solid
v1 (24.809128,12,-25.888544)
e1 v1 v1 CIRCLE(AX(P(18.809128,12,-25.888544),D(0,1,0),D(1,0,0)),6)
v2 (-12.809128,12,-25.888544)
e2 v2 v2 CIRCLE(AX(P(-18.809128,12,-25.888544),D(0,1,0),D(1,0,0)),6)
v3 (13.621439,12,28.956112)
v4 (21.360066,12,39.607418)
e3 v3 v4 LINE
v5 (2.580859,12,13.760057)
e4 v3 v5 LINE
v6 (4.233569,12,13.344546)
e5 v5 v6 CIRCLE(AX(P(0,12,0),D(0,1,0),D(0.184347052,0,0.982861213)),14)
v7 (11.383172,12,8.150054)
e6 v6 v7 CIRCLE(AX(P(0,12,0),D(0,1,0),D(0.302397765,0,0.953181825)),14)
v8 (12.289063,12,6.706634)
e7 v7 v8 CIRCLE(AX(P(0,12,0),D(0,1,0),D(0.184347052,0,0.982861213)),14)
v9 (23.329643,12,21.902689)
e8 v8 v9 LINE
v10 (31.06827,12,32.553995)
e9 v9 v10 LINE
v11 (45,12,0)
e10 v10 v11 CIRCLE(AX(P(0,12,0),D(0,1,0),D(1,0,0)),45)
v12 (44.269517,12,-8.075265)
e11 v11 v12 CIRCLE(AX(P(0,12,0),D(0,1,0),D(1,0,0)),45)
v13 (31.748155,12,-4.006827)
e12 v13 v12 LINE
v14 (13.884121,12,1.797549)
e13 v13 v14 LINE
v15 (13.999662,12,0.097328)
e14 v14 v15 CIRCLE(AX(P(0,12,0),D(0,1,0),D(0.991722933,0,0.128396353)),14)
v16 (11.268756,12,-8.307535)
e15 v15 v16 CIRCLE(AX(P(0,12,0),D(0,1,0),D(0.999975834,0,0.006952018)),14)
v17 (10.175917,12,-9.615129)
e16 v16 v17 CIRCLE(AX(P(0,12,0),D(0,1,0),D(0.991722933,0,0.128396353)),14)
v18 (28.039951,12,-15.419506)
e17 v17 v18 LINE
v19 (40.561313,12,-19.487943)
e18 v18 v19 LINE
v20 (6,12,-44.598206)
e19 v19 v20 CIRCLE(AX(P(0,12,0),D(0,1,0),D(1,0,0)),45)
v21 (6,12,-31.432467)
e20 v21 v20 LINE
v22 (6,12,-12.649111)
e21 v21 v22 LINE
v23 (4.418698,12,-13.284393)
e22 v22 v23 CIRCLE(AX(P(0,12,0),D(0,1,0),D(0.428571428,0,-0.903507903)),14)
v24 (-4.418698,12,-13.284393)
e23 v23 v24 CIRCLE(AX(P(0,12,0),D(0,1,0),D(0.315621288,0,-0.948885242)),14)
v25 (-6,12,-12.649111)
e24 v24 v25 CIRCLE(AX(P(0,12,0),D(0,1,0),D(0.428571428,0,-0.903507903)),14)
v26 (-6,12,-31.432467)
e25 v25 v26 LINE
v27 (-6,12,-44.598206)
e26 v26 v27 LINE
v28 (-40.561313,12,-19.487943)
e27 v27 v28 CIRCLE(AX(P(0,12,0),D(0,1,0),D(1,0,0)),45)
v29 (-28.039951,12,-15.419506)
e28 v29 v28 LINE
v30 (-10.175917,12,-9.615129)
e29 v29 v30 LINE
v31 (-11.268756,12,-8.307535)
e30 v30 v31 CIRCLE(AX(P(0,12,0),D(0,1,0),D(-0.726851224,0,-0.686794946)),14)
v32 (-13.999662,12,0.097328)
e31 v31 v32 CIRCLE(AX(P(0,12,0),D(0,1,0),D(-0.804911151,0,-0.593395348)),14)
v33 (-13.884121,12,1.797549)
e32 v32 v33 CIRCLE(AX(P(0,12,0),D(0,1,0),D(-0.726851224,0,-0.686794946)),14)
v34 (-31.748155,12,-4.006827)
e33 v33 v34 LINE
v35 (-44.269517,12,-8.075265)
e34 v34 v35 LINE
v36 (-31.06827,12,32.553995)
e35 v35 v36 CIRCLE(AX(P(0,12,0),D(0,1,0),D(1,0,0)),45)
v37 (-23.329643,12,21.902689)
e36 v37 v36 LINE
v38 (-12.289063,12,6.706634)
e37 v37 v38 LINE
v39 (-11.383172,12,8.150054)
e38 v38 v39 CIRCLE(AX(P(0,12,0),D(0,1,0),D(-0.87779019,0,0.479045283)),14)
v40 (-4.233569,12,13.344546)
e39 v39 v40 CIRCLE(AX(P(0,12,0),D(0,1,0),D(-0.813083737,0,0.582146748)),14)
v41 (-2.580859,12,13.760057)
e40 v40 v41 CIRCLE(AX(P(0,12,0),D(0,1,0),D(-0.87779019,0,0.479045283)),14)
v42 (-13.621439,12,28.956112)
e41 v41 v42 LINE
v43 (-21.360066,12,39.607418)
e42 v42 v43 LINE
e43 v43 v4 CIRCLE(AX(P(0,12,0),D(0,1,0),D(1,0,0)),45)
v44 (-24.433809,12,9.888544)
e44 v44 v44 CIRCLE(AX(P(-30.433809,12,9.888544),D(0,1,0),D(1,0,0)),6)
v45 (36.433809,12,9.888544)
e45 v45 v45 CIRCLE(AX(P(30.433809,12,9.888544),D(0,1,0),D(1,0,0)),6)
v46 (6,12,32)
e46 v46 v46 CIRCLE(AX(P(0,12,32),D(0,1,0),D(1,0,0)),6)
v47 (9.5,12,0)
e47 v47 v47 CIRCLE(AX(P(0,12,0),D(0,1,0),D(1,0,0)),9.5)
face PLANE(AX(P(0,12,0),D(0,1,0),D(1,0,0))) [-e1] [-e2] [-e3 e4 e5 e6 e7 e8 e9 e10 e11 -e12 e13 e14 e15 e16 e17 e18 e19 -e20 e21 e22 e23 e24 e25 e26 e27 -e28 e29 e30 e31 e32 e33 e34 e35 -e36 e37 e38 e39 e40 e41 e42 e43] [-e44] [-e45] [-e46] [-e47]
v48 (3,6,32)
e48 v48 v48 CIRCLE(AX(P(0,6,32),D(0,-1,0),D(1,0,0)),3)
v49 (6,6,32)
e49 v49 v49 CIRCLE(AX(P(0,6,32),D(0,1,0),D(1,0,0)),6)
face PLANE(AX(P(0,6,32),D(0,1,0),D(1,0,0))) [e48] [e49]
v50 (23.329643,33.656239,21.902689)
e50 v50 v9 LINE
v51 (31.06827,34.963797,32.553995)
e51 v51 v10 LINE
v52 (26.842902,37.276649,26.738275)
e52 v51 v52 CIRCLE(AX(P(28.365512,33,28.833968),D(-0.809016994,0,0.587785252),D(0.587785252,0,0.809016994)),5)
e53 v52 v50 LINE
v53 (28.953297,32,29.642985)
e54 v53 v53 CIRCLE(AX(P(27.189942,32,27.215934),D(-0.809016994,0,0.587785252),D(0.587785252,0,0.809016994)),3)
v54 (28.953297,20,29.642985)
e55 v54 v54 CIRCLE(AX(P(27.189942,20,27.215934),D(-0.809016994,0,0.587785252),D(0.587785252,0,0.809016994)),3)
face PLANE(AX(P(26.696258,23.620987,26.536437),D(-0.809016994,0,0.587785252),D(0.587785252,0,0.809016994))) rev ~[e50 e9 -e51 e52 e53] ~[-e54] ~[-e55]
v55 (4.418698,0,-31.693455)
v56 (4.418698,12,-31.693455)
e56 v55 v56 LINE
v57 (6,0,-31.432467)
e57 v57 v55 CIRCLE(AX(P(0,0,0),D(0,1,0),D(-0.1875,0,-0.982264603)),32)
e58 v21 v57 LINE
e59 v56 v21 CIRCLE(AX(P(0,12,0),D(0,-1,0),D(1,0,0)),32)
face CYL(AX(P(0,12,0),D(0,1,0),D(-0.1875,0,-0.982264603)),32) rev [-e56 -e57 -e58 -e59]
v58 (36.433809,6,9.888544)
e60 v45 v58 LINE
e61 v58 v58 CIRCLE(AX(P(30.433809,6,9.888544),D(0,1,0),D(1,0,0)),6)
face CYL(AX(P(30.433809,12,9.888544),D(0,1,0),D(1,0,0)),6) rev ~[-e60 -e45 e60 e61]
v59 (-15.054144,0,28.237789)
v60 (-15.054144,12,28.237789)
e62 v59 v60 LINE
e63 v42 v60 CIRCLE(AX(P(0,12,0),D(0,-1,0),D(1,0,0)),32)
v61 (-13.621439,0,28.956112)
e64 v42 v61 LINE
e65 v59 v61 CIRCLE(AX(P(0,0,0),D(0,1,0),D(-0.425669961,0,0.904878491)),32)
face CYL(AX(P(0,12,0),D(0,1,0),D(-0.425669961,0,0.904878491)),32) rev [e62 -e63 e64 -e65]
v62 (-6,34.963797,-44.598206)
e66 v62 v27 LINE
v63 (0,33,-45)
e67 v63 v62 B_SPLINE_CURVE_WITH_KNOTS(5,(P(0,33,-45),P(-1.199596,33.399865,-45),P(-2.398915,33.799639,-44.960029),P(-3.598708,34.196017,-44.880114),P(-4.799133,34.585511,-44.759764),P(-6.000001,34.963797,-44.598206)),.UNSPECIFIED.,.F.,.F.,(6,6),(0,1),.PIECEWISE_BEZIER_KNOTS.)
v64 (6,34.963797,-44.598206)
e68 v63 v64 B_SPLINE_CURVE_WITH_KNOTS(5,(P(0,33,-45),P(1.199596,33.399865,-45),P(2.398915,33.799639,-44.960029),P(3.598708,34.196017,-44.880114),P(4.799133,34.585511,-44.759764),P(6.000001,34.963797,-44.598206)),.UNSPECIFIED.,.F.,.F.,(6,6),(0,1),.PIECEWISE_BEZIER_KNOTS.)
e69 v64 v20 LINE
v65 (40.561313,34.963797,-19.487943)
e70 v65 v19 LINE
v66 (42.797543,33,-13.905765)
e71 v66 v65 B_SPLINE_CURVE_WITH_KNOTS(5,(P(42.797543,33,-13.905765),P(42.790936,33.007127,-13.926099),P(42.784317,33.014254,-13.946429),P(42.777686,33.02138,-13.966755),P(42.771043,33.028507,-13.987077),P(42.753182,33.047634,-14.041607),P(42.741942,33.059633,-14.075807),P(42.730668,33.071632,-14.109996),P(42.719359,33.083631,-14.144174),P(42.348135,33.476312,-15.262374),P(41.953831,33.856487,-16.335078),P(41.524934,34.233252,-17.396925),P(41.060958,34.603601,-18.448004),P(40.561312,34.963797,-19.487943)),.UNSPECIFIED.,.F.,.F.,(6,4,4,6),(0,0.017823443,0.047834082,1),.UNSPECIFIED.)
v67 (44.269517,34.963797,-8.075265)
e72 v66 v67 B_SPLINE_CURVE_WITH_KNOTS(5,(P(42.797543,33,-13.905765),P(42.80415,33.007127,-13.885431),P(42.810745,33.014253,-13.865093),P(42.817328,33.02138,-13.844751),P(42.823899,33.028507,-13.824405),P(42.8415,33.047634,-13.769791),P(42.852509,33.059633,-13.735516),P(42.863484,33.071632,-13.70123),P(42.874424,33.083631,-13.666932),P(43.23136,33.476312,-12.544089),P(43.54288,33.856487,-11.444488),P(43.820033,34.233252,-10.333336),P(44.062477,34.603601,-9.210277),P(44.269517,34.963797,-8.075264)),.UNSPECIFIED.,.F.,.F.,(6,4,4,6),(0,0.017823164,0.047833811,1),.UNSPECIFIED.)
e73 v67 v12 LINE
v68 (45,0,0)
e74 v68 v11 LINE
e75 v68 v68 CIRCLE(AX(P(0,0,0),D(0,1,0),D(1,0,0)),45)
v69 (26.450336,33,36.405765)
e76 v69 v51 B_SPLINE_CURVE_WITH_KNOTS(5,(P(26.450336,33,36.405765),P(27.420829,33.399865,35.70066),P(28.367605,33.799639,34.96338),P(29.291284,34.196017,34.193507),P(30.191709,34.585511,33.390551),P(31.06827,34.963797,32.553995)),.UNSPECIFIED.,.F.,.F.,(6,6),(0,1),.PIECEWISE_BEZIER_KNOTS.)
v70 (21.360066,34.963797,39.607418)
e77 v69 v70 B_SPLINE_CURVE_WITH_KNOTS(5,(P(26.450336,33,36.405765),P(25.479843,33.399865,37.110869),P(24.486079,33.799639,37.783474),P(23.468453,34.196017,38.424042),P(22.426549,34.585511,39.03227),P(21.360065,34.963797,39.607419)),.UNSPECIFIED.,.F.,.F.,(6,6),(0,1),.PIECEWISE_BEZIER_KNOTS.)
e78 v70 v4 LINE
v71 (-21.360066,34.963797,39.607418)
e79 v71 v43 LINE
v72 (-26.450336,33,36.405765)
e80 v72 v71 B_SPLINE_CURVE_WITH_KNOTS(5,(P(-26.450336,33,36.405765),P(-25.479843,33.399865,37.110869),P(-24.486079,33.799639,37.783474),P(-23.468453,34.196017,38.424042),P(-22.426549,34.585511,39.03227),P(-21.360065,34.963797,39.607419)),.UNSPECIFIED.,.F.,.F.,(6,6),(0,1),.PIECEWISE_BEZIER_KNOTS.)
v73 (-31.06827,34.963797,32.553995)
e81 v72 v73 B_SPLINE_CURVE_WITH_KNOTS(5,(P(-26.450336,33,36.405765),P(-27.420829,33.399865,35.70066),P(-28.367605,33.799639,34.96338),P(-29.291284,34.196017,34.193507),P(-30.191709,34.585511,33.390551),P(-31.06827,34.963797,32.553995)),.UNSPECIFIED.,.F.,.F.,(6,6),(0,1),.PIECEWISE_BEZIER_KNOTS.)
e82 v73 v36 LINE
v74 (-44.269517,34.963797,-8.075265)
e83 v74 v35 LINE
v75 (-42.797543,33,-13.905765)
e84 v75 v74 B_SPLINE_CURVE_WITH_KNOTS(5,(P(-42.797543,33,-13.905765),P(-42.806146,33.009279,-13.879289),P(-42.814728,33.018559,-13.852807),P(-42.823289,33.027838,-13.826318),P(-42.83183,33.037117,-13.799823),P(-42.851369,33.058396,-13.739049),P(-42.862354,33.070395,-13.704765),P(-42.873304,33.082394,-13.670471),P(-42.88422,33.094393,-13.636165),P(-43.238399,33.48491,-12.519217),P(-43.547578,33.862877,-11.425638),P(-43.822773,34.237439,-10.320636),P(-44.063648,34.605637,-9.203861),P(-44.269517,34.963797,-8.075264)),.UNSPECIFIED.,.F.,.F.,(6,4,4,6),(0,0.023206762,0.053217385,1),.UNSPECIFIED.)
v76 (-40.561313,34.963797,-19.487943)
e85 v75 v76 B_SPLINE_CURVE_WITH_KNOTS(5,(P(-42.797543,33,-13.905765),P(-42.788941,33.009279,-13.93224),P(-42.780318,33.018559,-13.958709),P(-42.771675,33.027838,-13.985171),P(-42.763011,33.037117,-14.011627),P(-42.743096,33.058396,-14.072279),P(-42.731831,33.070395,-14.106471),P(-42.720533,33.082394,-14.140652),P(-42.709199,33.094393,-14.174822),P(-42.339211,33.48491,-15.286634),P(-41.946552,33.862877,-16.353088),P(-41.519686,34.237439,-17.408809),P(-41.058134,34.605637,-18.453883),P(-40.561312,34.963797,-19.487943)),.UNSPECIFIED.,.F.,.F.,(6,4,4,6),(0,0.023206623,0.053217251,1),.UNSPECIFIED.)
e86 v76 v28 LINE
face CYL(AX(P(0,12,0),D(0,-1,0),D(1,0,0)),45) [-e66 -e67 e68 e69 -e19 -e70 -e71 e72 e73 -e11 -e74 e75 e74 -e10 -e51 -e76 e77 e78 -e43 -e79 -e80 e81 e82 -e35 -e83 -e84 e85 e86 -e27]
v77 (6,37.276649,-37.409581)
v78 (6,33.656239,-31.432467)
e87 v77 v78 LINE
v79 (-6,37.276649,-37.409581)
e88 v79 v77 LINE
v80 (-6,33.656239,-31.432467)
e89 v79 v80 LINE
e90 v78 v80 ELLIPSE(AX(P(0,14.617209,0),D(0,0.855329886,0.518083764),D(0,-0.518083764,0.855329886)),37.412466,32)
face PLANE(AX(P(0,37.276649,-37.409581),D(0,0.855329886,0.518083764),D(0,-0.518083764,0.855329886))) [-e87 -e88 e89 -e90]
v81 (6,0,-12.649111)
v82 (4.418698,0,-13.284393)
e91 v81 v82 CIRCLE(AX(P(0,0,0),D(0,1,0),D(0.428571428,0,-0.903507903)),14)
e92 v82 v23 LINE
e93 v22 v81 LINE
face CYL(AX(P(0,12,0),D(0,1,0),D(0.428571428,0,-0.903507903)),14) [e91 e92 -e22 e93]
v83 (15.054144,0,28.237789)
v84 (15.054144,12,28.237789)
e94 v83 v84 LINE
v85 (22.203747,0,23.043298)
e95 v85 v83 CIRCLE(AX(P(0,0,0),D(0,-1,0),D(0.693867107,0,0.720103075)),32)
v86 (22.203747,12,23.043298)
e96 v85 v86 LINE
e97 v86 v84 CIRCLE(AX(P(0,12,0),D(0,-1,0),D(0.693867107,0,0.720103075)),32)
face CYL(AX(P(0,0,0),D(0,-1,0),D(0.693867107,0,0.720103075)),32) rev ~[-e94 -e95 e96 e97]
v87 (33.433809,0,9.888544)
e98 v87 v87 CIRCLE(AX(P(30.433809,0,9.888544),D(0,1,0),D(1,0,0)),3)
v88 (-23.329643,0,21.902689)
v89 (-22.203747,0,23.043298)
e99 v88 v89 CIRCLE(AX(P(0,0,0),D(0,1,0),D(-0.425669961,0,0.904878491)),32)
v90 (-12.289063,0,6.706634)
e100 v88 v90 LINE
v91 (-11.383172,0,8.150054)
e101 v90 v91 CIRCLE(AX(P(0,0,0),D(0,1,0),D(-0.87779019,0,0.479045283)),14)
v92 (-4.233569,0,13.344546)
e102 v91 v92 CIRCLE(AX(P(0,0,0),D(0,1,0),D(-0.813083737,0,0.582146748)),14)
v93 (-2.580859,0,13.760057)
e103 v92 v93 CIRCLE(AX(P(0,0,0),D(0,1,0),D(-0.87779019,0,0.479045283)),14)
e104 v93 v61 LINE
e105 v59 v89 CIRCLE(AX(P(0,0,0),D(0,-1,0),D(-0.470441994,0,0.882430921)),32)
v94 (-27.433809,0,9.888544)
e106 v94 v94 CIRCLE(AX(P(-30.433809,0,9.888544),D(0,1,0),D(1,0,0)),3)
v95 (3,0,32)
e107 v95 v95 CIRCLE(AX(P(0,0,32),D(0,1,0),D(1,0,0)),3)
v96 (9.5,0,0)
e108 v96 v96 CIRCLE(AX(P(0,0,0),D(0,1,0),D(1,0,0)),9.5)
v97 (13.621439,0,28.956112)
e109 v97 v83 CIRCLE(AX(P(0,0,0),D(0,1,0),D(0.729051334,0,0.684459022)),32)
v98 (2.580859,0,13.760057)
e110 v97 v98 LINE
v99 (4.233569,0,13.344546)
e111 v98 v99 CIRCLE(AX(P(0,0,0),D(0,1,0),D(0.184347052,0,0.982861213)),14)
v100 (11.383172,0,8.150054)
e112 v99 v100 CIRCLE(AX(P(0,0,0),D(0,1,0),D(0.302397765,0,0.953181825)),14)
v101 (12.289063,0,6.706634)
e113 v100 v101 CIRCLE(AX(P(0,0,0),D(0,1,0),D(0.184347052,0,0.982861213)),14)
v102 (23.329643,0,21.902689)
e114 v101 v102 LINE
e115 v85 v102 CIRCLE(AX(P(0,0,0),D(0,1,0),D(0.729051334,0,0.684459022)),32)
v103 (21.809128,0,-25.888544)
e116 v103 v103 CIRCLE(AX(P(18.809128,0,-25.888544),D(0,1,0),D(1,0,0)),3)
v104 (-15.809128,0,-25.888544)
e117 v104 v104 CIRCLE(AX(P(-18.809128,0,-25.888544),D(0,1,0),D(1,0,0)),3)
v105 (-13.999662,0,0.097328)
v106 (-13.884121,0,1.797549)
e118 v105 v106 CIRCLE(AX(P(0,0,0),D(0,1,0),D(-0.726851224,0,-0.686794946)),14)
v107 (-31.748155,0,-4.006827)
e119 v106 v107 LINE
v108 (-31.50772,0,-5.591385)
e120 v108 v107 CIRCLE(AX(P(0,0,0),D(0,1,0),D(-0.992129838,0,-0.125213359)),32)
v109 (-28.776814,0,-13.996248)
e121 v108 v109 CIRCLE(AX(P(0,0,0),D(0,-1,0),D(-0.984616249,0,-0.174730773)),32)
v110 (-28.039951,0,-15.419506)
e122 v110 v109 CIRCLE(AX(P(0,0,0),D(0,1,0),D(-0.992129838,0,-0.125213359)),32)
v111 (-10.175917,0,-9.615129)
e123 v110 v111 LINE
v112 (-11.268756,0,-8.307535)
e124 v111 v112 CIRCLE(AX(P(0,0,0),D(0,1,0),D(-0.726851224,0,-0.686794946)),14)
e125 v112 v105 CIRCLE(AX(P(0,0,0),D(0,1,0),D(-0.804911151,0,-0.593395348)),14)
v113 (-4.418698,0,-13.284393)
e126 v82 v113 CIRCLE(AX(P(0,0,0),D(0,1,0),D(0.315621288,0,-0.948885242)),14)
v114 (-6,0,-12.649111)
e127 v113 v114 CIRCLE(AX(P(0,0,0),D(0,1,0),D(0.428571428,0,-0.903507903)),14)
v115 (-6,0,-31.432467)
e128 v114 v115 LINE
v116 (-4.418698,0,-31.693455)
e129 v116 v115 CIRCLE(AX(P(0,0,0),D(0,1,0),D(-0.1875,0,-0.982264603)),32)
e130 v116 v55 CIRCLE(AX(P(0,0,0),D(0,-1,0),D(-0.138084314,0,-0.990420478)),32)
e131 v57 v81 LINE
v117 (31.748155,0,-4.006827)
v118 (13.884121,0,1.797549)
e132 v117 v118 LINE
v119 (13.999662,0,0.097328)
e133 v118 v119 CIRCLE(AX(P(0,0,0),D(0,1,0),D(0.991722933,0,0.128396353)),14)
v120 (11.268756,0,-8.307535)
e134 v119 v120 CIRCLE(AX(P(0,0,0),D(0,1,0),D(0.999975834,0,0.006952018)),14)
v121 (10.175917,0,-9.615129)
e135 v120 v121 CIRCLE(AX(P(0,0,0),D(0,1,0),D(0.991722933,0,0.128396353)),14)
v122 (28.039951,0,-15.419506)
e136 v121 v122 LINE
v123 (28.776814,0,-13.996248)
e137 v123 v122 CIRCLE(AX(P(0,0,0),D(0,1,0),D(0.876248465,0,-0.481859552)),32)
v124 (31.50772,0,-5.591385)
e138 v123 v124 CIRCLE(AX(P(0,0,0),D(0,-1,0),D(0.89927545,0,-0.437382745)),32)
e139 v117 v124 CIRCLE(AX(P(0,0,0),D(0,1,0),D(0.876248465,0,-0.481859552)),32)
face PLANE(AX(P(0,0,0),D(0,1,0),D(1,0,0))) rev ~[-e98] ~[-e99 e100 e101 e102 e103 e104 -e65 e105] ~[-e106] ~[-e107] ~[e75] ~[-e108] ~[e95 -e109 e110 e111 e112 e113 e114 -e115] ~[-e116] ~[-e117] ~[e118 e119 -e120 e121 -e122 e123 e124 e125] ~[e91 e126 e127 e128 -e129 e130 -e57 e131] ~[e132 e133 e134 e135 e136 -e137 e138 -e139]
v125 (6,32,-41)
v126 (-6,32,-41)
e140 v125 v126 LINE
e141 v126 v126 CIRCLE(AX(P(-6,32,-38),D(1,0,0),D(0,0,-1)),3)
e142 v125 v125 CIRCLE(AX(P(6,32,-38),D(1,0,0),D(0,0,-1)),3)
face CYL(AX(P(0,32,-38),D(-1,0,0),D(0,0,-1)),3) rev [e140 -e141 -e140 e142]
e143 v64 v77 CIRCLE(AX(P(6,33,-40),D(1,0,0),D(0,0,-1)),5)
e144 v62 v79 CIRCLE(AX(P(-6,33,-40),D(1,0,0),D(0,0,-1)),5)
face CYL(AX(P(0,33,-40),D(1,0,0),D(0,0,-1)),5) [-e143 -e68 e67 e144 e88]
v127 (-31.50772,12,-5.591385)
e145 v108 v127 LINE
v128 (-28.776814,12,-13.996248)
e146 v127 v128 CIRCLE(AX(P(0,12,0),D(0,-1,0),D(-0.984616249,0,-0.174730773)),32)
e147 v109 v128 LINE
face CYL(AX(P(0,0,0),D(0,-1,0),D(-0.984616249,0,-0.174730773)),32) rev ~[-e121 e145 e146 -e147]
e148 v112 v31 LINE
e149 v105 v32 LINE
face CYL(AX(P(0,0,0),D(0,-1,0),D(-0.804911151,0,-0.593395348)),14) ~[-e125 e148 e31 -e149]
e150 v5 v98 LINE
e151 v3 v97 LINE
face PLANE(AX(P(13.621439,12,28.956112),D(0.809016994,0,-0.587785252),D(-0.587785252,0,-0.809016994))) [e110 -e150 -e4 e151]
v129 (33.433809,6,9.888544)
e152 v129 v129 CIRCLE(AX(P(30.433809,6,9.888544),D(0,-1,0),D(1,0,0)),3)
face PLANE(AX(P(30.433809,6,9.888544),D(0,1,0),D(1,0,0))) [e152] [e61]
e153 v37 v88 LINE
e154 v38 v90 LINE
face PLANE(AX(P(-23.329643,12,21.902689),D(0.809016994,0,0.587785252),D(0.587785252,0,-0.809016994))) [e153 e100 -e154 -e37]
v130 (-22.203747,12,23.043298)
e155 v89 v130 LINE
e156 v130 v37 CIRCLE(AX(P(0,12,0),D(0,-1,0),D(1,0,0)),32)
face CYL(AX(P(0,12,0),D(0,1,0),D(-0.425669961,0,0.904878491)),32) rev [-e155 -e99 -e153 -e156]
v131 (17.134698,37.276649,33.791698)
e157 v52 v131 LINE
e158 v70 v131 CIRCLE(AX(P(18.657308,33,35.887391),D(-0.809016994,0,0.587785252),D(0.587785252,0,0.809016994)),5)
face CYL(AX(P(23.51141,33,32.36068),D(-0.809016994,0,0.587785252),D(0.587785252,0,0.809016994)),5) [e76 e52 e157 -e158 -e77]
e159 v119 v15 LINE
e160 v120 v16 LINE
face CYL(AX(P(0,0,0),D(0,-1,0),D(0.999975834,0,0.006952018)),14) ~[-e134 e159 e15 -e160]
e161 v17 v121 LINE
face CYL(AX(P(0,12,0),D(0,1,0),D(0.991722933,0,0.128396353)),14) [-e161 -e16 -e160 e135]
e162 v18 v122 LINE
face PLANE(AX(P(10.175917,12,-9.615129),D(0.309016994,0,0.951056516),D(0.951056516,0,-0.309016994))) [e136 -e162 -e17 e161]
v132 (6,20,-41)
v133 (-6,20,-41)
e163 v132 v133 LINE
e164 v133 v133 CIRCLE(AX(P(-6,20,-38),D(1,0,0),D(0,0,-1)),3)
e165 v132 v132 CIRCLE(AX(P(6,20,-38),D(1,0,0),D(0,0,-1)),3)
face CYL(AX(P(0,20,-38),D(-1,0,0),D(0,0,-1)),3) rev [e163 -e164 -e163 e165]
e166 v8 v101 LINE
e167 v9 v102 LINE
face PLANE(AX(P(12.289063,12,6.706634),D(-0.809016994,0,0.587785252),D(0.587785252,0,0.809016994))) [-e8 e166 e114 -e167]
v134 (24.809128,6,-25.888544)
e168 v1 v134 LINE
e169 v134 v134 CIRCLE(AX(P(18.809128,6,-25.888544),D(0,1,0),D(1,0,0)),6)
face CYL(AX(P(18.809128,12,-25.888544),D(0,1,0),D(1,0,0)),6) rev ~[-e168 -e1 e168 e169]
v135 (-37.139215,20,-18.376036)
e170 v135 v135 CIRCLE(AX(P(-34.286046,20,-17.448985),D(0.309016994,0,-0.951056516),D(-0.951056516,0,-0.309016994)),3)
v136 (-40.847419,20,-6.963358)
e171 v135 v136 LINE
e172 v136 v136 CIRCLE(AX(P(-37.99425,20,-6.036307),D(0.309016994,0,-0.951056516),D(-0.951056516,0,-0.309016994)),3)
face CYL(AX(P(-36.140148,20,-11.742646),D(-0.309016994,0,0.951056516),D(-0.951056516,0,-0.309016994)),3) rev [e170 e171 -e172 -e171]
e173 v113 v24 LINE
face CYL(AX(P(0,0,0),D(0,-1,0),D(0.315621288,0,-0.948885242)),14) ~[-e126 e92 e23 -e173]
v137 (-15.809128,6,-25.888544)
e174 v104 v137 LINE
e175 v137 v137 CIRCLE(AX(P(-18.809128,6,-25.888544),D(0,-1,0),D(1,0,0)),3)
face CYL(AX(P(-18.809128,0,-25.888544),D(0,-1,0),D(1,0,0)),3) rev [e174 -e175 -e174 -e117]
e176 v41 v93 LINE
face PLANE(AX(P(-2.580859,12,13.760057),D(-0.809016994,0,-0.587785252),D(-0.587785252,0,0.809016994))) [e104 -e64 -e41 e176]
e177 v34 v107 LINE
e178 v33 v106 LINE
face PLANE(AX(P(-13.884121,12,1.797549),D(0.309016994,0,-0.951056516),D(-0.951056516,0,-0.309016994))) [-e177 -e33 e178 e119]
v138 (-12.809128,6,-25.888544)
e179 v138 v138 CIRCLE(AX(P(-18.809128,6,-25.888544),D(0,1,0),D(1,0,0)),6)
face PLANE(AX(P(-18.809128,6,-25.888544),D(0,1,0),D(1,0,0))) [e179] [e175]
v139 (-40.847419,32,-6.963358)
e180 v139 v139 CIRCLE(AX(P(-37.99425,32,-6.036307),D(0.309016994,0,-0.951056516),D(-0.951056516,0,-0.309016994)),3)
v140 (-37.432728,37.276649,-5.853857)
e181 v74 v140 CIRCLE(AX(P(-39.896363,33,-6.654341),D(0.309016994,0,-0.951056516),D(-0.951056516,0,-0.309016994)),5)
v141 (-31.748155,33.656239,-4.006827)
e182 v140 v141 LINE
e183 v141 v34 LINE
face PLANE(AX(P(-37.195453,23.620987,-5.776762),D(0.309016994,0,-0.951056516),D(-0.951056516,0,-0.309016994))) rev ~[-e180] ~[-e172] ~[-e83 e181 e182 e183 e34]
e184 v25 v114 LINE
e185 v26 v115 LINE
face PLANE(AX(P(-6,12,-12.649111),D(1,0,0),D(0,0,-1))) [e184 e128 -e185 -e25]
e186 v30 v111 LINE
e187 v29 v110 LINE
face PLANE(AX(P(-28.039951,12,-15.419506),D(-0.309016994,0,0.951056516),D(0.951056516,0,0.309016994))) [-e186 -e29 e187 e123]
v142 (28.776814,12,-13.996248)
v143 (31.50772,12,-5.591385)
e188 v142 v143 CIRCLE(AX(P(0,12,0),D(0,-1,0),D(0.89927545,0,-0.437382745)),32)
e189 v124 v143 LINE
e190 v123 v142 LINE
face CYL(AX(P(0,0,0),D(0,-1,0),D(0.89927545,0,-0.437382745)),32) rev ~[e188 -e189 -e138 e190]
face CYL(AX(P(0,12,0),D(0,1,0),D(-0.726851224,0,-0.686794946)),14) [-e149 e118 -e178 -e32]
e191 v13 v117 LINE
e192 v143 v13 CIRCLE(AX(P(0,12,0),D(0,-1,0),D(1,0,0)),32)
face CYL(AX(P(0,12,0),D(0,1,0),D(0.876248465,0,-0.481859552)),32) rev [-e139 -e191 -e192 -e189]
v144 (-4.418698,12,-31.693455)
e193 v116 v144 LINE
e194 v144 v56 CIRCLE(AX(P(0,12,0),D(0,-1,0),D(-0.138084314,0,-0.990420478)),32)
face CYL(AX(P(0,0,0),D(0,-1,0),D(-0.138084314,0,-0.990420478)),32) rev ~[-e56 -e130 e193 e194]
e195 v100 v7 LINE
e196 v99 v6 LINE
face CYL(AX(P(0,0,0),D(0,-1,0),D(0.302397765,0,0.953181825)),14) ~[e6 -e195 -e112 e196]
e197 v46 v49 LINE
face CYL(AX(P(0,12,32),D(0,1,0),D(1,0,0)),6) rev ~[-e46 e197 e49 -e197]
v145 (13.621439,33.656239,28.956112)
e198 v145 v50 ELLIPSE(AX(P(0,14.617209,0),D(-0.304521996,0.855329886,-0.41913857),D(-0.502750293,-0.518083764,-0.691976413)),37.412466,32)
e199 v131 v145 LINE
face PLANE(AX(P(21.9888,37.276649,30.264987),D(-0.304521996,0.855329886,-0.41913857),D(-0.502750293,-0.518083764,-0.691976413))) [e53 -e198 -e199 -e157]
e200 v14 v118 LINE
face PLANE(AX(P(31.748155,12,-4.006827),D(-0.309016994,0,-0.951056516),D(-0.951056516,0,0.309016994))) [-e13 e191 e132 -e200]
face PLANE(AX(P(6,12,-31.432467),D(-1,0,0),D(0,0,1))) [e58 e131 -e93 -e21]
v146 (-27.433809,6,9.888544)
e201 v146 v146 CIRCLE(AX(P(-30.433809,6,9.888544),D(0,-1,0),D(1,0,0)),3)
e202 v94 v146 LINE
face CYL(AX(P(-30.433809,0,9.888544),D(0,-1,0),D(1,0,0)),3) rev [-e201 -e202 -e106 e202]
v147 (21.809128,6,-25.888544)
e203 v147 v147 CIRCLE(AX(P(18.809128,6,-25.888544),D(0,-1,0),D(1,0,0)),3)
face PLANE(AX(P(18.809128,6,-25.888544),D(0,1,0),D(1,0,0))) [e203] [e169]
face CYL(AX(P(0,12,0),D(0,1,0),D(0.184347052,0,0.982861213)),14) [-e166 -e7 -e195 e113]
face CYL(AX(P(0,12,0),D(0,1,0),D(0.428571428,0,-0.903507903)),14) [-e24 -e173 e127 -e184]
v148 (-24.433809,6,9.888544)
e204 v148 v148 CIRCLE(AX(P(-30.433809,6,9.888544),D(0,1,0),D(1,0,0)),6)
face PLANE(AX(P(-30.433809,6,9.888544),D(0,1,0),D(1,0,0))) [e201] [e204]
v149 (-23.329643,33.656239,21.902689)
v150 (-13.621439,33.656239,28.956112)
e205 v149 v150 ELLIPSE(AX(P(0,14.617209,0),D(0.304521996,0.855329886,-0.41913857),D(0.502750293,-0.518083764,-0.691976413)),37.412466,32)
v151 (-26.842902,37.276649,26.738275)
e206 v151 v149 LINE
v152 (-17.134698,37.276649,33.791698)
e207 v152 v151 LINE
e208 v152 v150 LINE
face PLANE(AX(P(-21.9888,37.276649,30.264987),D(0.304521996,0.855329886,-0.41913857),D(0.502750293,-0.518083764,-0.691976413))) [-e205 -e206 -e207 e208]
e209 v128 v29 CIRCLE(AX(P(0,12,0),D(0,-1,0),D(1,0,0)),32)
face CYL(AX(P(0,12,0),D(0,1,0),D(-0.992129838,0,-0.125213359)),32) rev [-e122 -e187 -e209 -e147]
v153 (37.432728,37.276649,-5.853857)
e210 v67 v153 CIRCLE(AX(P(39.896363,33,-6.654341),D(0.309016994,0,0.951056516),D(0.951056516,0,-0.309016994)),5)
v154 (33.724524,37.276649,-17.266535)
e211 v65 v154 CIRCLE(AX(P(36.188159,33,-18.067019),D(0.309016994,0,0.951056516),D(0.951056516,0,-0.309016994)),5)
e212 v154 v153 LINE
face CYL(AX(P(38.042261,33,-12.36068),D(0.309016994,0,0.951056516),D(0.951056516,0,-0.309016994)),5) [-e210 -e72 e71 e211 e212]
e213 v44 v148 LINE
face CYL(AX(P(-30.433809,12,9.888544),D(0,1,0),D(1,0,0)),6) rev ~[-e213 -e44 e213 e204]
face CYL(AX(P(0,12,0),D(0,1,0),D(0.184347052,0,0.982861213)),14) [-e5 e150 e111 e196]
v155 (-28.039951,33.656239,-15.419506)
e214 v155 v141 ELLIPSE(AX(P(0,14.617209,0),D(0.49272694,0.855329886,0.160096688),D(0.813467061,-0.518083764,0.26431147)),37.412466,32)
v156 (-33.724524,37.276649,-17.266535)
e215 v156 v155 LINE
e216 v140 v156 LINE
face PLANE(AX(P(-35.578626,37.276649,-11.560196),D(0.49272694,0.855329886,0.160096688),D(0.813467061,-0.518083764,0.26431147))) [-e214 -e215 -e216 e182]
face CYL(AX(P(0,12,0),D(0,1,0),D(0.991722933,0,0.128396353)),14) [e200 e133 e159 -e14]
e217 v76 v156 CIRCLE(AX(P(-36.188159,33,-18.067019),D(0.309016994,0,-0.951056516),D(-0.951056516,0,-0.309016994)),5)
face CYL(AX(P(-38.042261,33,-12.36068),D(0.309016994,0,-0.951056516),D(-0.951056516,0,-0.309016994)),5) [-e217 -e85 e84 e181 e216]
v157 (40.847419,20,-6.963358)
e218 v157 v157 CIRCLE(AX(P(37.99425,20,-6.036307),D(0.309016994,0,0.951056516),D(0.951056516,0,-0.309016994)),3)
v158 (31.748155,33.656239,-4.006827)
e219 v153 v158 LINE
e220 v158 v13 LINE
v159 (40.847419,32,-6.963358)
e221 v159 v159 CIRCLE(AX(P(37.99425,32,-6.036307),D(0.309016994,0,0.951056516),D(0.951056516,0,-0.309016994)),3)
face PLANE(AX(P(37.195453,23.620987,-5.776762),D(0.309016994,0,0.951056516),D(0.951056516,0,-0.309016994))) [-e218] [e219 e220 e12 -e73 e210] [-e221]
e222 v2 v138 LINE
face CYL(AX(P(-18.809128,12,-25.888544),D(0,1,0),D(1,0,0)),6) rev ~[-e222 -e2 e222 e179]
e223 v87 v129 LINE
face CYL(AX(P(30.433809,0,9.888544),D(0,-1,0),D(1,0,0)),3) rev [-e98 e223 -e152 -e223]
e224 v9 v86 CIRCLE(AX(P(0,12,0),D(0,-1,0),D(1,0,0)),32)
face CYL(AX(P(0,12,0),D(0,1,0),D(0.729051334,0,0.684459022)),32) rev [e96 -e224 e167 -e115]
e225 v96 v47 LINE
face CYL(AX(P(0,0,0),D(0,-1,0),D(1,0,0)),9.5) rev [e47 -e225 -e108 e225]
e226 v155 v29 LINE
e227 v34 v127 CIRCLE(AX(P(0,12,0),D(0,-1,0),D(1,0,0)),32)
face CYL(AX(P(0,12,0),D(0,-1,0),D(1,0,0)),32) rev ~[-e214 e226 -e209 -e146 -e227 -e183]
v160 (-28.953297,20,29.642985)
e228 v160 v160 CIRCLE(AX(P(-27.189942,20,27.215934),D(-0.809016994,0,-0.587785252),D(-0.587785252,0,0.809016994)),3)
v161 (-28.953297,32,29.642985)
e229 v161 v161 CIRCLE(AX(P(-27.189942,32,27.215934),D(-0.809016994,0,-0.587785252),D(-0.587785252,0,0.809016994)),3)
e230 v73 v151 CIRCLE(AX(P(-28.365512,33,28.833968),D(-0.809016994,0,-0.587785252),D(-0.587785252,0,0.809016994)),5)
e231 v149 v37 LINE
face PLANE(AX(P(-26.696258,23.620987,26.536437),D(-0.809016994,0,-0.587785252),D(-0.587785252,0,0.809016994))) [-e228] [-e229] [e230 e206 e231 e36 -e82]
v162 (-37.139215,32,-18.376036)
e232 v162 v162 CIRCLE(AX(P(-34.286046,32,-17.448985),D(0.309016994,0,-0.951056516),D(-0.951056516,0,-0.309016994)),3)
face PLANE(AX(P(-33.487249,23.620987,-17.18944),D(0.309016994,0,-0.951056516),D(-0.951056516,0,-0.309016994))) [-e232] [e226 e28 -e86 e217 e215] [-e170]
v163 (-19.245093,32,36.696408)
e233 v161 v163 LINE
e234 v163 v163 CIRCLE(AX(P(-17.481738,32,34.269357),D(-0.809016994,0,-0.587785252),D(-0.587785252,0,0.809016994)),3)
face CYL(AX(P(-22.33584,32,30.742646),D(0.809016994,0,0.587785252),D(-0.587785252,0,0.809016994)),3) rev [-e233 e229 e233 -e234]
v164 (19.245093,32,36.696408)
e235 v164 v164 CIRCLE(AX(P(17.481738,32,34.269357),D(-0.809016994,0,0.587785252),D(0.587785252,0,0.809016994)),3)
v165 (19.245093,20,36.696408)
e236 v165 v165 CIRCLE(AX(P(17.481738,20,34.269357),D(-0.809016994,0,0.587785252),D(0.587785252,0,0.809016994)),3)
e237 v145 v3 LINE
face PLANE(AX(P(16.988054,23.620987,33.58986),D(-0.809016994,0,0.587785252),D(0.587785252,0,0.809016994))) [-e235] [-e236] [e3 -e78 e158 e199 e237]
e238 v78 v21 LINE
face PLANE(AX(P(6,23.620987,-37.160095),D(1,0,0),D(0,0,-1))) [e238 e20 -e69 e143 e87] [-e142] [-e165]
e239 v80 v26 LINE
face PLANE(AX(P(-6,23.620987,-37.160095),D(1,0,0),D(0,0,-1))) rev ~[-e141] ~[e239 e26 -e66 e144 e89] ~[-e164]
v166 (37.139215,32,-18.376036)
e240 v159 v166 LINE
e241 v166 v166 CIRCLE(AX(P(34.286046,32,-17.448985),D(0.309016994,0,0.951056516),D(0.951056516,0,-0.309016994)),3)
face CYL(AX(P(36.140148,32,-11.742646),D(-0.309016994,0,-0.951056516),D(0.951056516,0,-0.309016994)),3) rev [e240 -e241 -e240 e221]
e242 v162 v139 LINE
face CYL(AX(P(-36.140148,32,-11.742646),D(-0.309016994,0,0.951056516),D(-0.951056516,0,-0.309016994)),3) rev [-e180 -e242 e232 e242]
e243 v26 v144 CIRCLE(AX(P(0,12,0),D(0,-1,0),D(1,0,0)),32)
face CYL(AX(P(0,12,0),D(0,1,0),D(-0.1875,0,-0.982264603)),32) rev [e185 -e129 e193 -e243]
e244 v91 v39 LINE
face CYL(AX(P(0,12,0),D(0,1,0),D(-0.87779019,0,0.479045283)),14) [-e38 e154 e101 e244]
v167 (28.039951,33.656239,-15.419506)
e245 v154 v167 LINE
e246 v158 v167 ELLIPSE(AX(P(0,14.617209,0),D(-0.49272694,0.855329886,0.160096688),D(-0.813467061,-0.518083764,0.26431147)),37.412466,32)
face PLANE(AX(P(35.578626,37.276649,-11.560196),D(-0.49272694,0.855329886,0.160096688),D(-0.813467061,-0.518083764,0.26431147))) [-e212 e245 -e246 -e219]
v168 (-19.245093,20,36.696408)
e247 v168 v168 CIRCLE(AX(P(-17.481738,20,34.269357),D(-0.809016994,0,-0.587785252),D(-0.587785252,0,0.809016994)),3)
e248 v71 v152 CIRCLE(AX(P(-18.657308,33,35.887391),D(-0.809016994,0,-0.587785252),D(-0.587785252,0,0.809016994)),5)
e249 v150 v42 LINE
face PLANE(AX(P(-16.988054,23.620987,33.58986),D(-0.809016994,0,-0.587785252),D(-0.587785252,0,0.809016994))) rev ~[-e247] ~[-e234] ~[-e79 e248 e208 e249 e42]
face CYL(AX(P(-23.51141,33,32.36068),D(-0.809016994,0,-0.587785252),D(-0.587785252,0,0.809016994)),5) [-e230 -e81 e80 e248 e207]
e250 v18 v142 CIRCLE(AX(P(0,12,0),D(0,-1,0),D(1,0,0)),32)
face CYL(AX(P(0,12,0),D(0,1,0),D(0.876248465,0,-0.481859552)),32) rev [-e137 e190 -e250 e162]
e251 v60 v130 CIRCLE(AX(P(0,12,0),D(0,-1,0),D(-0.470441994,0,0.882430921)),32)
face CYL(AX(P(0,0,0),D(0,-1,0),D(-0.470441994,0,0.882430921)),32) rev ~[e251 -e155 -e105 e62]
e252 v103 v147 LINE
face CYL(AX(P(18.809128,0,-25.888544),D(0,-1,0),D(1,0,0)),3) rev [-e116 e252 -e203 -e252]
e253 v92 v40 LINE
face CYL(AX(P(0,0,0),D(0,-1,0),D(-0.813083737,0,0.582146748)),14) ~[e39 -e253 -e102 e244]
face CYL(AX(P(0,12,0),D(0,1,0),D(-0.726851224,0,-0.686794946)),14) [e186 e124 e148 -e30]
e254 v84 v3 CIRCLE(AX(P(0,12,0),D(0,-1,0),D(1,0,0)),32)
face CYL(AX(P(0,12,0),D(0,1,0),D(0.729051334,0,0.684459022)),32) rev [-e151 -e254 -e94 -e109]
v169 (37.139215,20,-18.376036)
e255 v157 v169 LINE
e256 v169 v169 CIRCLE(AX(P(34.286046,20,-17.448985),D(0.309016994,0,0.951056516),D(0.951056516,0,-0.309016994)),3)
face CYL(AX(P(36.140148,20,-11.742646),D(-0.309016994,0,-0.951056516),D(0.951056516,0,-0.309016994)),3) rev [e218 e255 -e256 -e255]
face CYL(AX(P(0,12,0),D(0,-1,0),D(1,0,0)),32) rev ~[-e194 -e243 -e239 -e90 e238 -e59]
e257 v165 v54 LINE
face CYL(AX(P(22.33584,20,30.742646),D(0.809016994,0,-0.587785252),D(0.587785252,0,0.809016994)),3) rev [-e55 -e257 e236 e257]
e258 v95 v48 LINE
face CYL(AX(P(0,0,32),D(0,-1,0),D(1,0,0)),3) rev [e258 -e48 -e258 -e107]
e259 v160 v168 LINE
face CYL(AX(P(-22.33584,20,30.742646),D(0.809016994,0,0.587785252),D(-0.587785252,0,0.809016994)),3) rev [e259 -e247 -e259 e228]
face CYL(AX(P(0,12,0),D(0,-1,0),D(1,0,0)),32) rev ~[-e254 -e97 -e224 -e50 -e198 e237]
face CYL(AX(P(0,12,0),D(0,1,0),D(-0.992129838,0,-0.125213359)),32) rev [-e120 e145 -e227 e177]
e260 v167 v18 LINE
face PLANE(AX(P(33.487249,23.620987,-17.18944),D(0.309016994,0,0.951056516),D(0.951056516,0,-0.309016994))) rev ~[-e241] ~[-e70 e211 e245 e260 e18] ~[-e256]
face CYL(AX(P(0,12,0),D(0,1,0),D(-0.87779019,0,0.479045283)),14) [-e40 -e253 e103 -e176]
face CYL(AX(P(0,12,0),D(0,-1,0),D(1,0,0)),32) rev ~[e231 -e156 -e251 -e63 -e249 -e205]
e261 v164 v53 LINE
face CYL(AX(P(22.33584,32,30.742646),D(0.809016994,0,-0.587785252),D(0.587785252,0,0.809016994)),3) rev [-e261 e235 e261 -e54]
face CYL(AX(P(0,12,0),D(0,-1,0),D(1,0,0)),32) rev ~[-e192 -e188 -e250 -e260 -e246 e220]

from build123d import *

# Parameters (mm, degrees)
SKETCH_1_R               = 45
SKETCH_1_R_2             = 3
SKETCH_1_R_3             = 9.5
EXTRUDE_1_DEPTH          = 12
SKETCH_2_R               = 3
EXTRUDE_2_DEPTH          = 6
PATTERN_CIRCULAR_1_COUNT = 5
SKETCH_3_R               = 32
CUT_EXTRUDE_1_DEPTH      = 69.745908969
SKETCH_3_4_R             = 57.935065027
SKETCH_3_4_R_2           = 45
CUT_EXTRUDE_2_DEPTH      = 69.745908969
SKETCH_4_R               = 6
CUT_EXTRUDE_3_DEPTH      = 6
CUT_EXTRUDE_4_DEPTH      = 69.745909138


with BuildPart() as part:
    # 草图1 → 凸台-拉伸1 (new body)
    with BuildSketch(Plane(origin=(0, 0, 0), x_dir=(1, 0, 0), z_dir=(0, 1, 0))):
        Circle(SKETCH_1_R)
        with Locations((0, -32)):
            Circle(SKETCH_1_R_2, mode=Mode.SUBTRACT)
        with Locations((-30.433808521, -9.88854382)):
            Circle(SKETCH_1_R_2, mode=Mode.SUBTRACT)
        with Locations((-18.809128073, 25.88854382)):
            Circle(SKETCH_1_R_2, mode=Mode.SUBTRACT)
        with Locations((18.809128073, 25.88854382)):
            Circle(SKETCH_1_R_2, mode=Mode.SUBTRACT)
        with Locations((30.433808521, -9.88854382)):
            Circle(SKETCH_1_R_2, mode=Mode.SUBTRACT)
        Circle(SKETCH_1_R_3, mode=Mode.SUBTRACT)
        with BuildLine():
            Line((11.268756107, 8.307534882), (28.776814381, 13.996247858))
            ThreePointArc((28.776814381, 13.996247858), (30.433808521, 9.88854382), (31.507719956, 5.591384727))
            Line((31.507719956, 5.591384727), (13.999661682, -0.097328249))
            ThreePointArc((13.999661682, -0.097328249), (13.314791228, 4.326237921), (11.268756107, 8.307534882))
        make_face(mode=Mode.SUBTRACT)
        with BuildLine():
            Line((-4.418698041, 13.284393386), (-4.418698041, 31.693455281))
            ThreePointArc((-4.418698041, 31.693455281), (0, 32), (4.418698041, 31.693455281))
            Line((4.418698041, 31.693455281), (4.418698041, 13.284393386))
            ThreePointArc((4.418698041, 13.284393386), (0, 14), (-4.418698041, 13.284393386))
        make_face(mode=Mode.SUBTRACT)
        with BuildLine():
            Line((11.383172326, -8.150054466), (22.203747416, -23.04329839))
            ThreePointArc((22.203747416, -23.04329839), (18.809128073, -25.88854382), (15.0541438, -28.237789475))
            Line((15.0541438, -28.237789475), (4.233568709, -13.344545552))
            ThreePointArc((4.233568709, -13.344545552), (8.228993532, -11.326237921), (11.383172326, -8.150054466))
        make_face(mode=Mode.SUBTRACT)
        with BuildLine():
            Line((-4.233568709, -13.344545552), (-15.0541438, -28.237789475))
            ThreePointArc((-15.0541438, -28.237789475), (-18.809128073, -25.88854382), (-22.203747416, -23.04329839))
            Line((-22.203747416, -23.04329839), (-11.383172326, -8.150054466))
            ThreePointArc((-11.383172326, -8.150054466), (-8.228993532, -11.326237921), (-4.233568709, -13.344545552))
        make_face(mode=Mode.SUBTRACT)
        with BuildLine():
            Line((-13.999661682, -0.097328249), (-31.507719956, 5.591384727))
            ThreePointArc((-31.507719956, 5.591384727), (-30.433808521, 9.88854382), (-28.776814381, 13.996247858))
            Line((-28.776814381, 13.996247858), (-11.268756107, 8.307534882))
            ThreePointArc((-11.268756107, 8.307534882), (-13.314791228, 4.326237921), (-13.999661682, -0.097328249))
        make_face(mode=Mode.SUBTRACT)
    extrude(amount=EXTRUDE_1_DEPTH)

    # 草图2 → 凸台-拉伸2 (add, symmetric)
    with BuildSketch(Plane(origin=(0, 0, 0), x_dir=(0, 0, -1), z_dir=(1, 0, 0))):
        with BuildLine():
            Line((45, 12), (45, 33))
            ThreePointArc((45, 33), (42.454374247, 37.356150486), (37.409581178, 37.276649428))
            Line((37.409581178, 37.276649428), (28.758557392, 32.0366186))
            Line((28.758557392, 32.0366186), (28.758557392, 12))
            Line((28.758557392, 12), (45, 12))
        make_face()
        with Locations((38, 32)):
            Circle(SKETCH_2_R, mode=Mode.SUBTRACT)
        with Locations((38, 20)):
            Circle(SKETCH_2_R, mode=Mode.SUBTRACT)
    extrude_2 = extrude(amount=EXTRUDE_2_DEPTH, both=True)

    # 阵列(圆周)1: 凸台-拉伸2 ×5 about axis
    pattern_circular_1_axis = Axis((0, 12, 0), (0, 1, 0))
    for i in range(1, PATTERN_CIRCULAR_1_COUNT):
        add(extrude_2.rotate(pattern_circular_1_axis, i * 360 / PATTERN_CIRCULAR_1_COUNT))

    # 草图3 → 切除-拉伸1 (cut, through all)
    with BuildSketch(Plane.XZ.offset(-12)):
        Circle(SKETCH_3_R)
    extrude(amount=-CUT_EXTRUDE_1_DEPTH, mode=Mode.SUBTRACT)

    # 草图3<4> → 切除-拉伸2 (cut, through all)
    with BuildSketch(Plane.XZ.offset(-12)):
        Circle(SKETCH_3_4_R)
        Circle(SKETCH_3_4_R_2, mode=Mode.SUBTRACT)
    extrude(amount=-CUT_EXTRUDE_2_DEPTH, mode=Mode.SUBTRACT)

    # 草图4 → 切除-拉伸3 (cut)
    with BuildSketch(Plane(origin=(0, 12, 0), x_dir=(1, 0, 0), z_dir=(0, 1, 0))):
        with Locations((30.433808521, -9.88854382)):
            Circle(SKETCH_4_R)
        with Locations((0, -32)):
            Circle(SKETCH_4_R)
        with Locations((-30.433808521, -9.88854382)):
            Circle(SKETCH_4_R)
        with Locations((-18.809128073, 25.88854382)):
            Circle(SKETCH_4_R)
        with Locations((18.809128073, 25.88854382)):
            Circle(SKETCH_4_R)
    extrude(amount=-CUT_EXTRUDE_3_DEPTH, mode=Mode.SUBTRACT)

    # 草图5 → 切除-拉伸4 (cut, through all)
    with BuildSketch(Plane(origin=(0, 12, 0), x_dir=(1, 0, 0), z_dir=(0, 1, 0))):
        with BuildLine():
            Line((6, 31.432467291), (6, 12.649110641))
            ThreePointArc((6, 12.649110641), (0, 14), (-6, 12.649110641))
            Line((-6, 12.649110641), (-6, 31.432467291))
            ThreePointArc((-6, 31.432467291), (0, 32), (6, 31.432467291))
        make_face()
        with BuildLine():
            Line((31.748154807, 4.00682747), (13.884121066, -1.797548946))
            ThreePointArc((13.884121066, -1.797548946), (13.314791228, 4.326237921), (10.175917134, 9.615129249))
            Line((10.175917134, 9.615129249), (28.039950874, 15.419505666))
            ThreePointArc((28.039950874, 15.419505666), (30.433808521, 9.88854382), (31.748154807, 4.00682747))
        make_face()
        with BuildLine():
            Line((13.621438751, -28.956111727), (2.580858723, -13.760056986))
            ThreePointArc((2.580858723, -13.760056986), (8.228993532, -11.326237921), (12.289062655, -6.706633958))
            Line((12.289062655, -6.706633958), (23.329642683, -21.9026887))
            ThreePointArc((23.329642683, -21.9026887), (18.809128073, -25.88854382), (13.621438751, -28.956111727))
        make_face()
        with BuildLine():
            Line((-23.329642683, -21.9026887), (-12.289062655, -6.706633958))
            ThreePointArc((-12.289062655, -6.706633958), (-8.228993532, -11.326237921), (-2.580858723, -13.760056986))
            Line((-2.580858723, -13.760056986), (-13.621438751, -28.956111727))
            ThreePointArc((-13.621438751, -28.956111727), (-18.809128073, -25.88854382), (-23.329642683, -21.9026887))
        make_face()
        with BuildLine():
            Line((-28.039950874, 15.419505666), (-10.175917134, 9.615129249))
            ThreePointArc((-10.175917134, 9.615129249), (-13.314791228, 4.326237921), (-13.884121066, -1.797548946))
            Line((-13.884121066, -1.797548946), (-31.748154807, 4.00682747))
            ThreePointArc((-31.748154807, 4.00682747), (-30.433808521, 9.88854382), (-28.039950874, 15.419505666))
        make_face()
    extrude(amount=-CUT_EXTRUDE_4_DEPTH, mode=Mode.SUBTRACT)


solid = part.part
